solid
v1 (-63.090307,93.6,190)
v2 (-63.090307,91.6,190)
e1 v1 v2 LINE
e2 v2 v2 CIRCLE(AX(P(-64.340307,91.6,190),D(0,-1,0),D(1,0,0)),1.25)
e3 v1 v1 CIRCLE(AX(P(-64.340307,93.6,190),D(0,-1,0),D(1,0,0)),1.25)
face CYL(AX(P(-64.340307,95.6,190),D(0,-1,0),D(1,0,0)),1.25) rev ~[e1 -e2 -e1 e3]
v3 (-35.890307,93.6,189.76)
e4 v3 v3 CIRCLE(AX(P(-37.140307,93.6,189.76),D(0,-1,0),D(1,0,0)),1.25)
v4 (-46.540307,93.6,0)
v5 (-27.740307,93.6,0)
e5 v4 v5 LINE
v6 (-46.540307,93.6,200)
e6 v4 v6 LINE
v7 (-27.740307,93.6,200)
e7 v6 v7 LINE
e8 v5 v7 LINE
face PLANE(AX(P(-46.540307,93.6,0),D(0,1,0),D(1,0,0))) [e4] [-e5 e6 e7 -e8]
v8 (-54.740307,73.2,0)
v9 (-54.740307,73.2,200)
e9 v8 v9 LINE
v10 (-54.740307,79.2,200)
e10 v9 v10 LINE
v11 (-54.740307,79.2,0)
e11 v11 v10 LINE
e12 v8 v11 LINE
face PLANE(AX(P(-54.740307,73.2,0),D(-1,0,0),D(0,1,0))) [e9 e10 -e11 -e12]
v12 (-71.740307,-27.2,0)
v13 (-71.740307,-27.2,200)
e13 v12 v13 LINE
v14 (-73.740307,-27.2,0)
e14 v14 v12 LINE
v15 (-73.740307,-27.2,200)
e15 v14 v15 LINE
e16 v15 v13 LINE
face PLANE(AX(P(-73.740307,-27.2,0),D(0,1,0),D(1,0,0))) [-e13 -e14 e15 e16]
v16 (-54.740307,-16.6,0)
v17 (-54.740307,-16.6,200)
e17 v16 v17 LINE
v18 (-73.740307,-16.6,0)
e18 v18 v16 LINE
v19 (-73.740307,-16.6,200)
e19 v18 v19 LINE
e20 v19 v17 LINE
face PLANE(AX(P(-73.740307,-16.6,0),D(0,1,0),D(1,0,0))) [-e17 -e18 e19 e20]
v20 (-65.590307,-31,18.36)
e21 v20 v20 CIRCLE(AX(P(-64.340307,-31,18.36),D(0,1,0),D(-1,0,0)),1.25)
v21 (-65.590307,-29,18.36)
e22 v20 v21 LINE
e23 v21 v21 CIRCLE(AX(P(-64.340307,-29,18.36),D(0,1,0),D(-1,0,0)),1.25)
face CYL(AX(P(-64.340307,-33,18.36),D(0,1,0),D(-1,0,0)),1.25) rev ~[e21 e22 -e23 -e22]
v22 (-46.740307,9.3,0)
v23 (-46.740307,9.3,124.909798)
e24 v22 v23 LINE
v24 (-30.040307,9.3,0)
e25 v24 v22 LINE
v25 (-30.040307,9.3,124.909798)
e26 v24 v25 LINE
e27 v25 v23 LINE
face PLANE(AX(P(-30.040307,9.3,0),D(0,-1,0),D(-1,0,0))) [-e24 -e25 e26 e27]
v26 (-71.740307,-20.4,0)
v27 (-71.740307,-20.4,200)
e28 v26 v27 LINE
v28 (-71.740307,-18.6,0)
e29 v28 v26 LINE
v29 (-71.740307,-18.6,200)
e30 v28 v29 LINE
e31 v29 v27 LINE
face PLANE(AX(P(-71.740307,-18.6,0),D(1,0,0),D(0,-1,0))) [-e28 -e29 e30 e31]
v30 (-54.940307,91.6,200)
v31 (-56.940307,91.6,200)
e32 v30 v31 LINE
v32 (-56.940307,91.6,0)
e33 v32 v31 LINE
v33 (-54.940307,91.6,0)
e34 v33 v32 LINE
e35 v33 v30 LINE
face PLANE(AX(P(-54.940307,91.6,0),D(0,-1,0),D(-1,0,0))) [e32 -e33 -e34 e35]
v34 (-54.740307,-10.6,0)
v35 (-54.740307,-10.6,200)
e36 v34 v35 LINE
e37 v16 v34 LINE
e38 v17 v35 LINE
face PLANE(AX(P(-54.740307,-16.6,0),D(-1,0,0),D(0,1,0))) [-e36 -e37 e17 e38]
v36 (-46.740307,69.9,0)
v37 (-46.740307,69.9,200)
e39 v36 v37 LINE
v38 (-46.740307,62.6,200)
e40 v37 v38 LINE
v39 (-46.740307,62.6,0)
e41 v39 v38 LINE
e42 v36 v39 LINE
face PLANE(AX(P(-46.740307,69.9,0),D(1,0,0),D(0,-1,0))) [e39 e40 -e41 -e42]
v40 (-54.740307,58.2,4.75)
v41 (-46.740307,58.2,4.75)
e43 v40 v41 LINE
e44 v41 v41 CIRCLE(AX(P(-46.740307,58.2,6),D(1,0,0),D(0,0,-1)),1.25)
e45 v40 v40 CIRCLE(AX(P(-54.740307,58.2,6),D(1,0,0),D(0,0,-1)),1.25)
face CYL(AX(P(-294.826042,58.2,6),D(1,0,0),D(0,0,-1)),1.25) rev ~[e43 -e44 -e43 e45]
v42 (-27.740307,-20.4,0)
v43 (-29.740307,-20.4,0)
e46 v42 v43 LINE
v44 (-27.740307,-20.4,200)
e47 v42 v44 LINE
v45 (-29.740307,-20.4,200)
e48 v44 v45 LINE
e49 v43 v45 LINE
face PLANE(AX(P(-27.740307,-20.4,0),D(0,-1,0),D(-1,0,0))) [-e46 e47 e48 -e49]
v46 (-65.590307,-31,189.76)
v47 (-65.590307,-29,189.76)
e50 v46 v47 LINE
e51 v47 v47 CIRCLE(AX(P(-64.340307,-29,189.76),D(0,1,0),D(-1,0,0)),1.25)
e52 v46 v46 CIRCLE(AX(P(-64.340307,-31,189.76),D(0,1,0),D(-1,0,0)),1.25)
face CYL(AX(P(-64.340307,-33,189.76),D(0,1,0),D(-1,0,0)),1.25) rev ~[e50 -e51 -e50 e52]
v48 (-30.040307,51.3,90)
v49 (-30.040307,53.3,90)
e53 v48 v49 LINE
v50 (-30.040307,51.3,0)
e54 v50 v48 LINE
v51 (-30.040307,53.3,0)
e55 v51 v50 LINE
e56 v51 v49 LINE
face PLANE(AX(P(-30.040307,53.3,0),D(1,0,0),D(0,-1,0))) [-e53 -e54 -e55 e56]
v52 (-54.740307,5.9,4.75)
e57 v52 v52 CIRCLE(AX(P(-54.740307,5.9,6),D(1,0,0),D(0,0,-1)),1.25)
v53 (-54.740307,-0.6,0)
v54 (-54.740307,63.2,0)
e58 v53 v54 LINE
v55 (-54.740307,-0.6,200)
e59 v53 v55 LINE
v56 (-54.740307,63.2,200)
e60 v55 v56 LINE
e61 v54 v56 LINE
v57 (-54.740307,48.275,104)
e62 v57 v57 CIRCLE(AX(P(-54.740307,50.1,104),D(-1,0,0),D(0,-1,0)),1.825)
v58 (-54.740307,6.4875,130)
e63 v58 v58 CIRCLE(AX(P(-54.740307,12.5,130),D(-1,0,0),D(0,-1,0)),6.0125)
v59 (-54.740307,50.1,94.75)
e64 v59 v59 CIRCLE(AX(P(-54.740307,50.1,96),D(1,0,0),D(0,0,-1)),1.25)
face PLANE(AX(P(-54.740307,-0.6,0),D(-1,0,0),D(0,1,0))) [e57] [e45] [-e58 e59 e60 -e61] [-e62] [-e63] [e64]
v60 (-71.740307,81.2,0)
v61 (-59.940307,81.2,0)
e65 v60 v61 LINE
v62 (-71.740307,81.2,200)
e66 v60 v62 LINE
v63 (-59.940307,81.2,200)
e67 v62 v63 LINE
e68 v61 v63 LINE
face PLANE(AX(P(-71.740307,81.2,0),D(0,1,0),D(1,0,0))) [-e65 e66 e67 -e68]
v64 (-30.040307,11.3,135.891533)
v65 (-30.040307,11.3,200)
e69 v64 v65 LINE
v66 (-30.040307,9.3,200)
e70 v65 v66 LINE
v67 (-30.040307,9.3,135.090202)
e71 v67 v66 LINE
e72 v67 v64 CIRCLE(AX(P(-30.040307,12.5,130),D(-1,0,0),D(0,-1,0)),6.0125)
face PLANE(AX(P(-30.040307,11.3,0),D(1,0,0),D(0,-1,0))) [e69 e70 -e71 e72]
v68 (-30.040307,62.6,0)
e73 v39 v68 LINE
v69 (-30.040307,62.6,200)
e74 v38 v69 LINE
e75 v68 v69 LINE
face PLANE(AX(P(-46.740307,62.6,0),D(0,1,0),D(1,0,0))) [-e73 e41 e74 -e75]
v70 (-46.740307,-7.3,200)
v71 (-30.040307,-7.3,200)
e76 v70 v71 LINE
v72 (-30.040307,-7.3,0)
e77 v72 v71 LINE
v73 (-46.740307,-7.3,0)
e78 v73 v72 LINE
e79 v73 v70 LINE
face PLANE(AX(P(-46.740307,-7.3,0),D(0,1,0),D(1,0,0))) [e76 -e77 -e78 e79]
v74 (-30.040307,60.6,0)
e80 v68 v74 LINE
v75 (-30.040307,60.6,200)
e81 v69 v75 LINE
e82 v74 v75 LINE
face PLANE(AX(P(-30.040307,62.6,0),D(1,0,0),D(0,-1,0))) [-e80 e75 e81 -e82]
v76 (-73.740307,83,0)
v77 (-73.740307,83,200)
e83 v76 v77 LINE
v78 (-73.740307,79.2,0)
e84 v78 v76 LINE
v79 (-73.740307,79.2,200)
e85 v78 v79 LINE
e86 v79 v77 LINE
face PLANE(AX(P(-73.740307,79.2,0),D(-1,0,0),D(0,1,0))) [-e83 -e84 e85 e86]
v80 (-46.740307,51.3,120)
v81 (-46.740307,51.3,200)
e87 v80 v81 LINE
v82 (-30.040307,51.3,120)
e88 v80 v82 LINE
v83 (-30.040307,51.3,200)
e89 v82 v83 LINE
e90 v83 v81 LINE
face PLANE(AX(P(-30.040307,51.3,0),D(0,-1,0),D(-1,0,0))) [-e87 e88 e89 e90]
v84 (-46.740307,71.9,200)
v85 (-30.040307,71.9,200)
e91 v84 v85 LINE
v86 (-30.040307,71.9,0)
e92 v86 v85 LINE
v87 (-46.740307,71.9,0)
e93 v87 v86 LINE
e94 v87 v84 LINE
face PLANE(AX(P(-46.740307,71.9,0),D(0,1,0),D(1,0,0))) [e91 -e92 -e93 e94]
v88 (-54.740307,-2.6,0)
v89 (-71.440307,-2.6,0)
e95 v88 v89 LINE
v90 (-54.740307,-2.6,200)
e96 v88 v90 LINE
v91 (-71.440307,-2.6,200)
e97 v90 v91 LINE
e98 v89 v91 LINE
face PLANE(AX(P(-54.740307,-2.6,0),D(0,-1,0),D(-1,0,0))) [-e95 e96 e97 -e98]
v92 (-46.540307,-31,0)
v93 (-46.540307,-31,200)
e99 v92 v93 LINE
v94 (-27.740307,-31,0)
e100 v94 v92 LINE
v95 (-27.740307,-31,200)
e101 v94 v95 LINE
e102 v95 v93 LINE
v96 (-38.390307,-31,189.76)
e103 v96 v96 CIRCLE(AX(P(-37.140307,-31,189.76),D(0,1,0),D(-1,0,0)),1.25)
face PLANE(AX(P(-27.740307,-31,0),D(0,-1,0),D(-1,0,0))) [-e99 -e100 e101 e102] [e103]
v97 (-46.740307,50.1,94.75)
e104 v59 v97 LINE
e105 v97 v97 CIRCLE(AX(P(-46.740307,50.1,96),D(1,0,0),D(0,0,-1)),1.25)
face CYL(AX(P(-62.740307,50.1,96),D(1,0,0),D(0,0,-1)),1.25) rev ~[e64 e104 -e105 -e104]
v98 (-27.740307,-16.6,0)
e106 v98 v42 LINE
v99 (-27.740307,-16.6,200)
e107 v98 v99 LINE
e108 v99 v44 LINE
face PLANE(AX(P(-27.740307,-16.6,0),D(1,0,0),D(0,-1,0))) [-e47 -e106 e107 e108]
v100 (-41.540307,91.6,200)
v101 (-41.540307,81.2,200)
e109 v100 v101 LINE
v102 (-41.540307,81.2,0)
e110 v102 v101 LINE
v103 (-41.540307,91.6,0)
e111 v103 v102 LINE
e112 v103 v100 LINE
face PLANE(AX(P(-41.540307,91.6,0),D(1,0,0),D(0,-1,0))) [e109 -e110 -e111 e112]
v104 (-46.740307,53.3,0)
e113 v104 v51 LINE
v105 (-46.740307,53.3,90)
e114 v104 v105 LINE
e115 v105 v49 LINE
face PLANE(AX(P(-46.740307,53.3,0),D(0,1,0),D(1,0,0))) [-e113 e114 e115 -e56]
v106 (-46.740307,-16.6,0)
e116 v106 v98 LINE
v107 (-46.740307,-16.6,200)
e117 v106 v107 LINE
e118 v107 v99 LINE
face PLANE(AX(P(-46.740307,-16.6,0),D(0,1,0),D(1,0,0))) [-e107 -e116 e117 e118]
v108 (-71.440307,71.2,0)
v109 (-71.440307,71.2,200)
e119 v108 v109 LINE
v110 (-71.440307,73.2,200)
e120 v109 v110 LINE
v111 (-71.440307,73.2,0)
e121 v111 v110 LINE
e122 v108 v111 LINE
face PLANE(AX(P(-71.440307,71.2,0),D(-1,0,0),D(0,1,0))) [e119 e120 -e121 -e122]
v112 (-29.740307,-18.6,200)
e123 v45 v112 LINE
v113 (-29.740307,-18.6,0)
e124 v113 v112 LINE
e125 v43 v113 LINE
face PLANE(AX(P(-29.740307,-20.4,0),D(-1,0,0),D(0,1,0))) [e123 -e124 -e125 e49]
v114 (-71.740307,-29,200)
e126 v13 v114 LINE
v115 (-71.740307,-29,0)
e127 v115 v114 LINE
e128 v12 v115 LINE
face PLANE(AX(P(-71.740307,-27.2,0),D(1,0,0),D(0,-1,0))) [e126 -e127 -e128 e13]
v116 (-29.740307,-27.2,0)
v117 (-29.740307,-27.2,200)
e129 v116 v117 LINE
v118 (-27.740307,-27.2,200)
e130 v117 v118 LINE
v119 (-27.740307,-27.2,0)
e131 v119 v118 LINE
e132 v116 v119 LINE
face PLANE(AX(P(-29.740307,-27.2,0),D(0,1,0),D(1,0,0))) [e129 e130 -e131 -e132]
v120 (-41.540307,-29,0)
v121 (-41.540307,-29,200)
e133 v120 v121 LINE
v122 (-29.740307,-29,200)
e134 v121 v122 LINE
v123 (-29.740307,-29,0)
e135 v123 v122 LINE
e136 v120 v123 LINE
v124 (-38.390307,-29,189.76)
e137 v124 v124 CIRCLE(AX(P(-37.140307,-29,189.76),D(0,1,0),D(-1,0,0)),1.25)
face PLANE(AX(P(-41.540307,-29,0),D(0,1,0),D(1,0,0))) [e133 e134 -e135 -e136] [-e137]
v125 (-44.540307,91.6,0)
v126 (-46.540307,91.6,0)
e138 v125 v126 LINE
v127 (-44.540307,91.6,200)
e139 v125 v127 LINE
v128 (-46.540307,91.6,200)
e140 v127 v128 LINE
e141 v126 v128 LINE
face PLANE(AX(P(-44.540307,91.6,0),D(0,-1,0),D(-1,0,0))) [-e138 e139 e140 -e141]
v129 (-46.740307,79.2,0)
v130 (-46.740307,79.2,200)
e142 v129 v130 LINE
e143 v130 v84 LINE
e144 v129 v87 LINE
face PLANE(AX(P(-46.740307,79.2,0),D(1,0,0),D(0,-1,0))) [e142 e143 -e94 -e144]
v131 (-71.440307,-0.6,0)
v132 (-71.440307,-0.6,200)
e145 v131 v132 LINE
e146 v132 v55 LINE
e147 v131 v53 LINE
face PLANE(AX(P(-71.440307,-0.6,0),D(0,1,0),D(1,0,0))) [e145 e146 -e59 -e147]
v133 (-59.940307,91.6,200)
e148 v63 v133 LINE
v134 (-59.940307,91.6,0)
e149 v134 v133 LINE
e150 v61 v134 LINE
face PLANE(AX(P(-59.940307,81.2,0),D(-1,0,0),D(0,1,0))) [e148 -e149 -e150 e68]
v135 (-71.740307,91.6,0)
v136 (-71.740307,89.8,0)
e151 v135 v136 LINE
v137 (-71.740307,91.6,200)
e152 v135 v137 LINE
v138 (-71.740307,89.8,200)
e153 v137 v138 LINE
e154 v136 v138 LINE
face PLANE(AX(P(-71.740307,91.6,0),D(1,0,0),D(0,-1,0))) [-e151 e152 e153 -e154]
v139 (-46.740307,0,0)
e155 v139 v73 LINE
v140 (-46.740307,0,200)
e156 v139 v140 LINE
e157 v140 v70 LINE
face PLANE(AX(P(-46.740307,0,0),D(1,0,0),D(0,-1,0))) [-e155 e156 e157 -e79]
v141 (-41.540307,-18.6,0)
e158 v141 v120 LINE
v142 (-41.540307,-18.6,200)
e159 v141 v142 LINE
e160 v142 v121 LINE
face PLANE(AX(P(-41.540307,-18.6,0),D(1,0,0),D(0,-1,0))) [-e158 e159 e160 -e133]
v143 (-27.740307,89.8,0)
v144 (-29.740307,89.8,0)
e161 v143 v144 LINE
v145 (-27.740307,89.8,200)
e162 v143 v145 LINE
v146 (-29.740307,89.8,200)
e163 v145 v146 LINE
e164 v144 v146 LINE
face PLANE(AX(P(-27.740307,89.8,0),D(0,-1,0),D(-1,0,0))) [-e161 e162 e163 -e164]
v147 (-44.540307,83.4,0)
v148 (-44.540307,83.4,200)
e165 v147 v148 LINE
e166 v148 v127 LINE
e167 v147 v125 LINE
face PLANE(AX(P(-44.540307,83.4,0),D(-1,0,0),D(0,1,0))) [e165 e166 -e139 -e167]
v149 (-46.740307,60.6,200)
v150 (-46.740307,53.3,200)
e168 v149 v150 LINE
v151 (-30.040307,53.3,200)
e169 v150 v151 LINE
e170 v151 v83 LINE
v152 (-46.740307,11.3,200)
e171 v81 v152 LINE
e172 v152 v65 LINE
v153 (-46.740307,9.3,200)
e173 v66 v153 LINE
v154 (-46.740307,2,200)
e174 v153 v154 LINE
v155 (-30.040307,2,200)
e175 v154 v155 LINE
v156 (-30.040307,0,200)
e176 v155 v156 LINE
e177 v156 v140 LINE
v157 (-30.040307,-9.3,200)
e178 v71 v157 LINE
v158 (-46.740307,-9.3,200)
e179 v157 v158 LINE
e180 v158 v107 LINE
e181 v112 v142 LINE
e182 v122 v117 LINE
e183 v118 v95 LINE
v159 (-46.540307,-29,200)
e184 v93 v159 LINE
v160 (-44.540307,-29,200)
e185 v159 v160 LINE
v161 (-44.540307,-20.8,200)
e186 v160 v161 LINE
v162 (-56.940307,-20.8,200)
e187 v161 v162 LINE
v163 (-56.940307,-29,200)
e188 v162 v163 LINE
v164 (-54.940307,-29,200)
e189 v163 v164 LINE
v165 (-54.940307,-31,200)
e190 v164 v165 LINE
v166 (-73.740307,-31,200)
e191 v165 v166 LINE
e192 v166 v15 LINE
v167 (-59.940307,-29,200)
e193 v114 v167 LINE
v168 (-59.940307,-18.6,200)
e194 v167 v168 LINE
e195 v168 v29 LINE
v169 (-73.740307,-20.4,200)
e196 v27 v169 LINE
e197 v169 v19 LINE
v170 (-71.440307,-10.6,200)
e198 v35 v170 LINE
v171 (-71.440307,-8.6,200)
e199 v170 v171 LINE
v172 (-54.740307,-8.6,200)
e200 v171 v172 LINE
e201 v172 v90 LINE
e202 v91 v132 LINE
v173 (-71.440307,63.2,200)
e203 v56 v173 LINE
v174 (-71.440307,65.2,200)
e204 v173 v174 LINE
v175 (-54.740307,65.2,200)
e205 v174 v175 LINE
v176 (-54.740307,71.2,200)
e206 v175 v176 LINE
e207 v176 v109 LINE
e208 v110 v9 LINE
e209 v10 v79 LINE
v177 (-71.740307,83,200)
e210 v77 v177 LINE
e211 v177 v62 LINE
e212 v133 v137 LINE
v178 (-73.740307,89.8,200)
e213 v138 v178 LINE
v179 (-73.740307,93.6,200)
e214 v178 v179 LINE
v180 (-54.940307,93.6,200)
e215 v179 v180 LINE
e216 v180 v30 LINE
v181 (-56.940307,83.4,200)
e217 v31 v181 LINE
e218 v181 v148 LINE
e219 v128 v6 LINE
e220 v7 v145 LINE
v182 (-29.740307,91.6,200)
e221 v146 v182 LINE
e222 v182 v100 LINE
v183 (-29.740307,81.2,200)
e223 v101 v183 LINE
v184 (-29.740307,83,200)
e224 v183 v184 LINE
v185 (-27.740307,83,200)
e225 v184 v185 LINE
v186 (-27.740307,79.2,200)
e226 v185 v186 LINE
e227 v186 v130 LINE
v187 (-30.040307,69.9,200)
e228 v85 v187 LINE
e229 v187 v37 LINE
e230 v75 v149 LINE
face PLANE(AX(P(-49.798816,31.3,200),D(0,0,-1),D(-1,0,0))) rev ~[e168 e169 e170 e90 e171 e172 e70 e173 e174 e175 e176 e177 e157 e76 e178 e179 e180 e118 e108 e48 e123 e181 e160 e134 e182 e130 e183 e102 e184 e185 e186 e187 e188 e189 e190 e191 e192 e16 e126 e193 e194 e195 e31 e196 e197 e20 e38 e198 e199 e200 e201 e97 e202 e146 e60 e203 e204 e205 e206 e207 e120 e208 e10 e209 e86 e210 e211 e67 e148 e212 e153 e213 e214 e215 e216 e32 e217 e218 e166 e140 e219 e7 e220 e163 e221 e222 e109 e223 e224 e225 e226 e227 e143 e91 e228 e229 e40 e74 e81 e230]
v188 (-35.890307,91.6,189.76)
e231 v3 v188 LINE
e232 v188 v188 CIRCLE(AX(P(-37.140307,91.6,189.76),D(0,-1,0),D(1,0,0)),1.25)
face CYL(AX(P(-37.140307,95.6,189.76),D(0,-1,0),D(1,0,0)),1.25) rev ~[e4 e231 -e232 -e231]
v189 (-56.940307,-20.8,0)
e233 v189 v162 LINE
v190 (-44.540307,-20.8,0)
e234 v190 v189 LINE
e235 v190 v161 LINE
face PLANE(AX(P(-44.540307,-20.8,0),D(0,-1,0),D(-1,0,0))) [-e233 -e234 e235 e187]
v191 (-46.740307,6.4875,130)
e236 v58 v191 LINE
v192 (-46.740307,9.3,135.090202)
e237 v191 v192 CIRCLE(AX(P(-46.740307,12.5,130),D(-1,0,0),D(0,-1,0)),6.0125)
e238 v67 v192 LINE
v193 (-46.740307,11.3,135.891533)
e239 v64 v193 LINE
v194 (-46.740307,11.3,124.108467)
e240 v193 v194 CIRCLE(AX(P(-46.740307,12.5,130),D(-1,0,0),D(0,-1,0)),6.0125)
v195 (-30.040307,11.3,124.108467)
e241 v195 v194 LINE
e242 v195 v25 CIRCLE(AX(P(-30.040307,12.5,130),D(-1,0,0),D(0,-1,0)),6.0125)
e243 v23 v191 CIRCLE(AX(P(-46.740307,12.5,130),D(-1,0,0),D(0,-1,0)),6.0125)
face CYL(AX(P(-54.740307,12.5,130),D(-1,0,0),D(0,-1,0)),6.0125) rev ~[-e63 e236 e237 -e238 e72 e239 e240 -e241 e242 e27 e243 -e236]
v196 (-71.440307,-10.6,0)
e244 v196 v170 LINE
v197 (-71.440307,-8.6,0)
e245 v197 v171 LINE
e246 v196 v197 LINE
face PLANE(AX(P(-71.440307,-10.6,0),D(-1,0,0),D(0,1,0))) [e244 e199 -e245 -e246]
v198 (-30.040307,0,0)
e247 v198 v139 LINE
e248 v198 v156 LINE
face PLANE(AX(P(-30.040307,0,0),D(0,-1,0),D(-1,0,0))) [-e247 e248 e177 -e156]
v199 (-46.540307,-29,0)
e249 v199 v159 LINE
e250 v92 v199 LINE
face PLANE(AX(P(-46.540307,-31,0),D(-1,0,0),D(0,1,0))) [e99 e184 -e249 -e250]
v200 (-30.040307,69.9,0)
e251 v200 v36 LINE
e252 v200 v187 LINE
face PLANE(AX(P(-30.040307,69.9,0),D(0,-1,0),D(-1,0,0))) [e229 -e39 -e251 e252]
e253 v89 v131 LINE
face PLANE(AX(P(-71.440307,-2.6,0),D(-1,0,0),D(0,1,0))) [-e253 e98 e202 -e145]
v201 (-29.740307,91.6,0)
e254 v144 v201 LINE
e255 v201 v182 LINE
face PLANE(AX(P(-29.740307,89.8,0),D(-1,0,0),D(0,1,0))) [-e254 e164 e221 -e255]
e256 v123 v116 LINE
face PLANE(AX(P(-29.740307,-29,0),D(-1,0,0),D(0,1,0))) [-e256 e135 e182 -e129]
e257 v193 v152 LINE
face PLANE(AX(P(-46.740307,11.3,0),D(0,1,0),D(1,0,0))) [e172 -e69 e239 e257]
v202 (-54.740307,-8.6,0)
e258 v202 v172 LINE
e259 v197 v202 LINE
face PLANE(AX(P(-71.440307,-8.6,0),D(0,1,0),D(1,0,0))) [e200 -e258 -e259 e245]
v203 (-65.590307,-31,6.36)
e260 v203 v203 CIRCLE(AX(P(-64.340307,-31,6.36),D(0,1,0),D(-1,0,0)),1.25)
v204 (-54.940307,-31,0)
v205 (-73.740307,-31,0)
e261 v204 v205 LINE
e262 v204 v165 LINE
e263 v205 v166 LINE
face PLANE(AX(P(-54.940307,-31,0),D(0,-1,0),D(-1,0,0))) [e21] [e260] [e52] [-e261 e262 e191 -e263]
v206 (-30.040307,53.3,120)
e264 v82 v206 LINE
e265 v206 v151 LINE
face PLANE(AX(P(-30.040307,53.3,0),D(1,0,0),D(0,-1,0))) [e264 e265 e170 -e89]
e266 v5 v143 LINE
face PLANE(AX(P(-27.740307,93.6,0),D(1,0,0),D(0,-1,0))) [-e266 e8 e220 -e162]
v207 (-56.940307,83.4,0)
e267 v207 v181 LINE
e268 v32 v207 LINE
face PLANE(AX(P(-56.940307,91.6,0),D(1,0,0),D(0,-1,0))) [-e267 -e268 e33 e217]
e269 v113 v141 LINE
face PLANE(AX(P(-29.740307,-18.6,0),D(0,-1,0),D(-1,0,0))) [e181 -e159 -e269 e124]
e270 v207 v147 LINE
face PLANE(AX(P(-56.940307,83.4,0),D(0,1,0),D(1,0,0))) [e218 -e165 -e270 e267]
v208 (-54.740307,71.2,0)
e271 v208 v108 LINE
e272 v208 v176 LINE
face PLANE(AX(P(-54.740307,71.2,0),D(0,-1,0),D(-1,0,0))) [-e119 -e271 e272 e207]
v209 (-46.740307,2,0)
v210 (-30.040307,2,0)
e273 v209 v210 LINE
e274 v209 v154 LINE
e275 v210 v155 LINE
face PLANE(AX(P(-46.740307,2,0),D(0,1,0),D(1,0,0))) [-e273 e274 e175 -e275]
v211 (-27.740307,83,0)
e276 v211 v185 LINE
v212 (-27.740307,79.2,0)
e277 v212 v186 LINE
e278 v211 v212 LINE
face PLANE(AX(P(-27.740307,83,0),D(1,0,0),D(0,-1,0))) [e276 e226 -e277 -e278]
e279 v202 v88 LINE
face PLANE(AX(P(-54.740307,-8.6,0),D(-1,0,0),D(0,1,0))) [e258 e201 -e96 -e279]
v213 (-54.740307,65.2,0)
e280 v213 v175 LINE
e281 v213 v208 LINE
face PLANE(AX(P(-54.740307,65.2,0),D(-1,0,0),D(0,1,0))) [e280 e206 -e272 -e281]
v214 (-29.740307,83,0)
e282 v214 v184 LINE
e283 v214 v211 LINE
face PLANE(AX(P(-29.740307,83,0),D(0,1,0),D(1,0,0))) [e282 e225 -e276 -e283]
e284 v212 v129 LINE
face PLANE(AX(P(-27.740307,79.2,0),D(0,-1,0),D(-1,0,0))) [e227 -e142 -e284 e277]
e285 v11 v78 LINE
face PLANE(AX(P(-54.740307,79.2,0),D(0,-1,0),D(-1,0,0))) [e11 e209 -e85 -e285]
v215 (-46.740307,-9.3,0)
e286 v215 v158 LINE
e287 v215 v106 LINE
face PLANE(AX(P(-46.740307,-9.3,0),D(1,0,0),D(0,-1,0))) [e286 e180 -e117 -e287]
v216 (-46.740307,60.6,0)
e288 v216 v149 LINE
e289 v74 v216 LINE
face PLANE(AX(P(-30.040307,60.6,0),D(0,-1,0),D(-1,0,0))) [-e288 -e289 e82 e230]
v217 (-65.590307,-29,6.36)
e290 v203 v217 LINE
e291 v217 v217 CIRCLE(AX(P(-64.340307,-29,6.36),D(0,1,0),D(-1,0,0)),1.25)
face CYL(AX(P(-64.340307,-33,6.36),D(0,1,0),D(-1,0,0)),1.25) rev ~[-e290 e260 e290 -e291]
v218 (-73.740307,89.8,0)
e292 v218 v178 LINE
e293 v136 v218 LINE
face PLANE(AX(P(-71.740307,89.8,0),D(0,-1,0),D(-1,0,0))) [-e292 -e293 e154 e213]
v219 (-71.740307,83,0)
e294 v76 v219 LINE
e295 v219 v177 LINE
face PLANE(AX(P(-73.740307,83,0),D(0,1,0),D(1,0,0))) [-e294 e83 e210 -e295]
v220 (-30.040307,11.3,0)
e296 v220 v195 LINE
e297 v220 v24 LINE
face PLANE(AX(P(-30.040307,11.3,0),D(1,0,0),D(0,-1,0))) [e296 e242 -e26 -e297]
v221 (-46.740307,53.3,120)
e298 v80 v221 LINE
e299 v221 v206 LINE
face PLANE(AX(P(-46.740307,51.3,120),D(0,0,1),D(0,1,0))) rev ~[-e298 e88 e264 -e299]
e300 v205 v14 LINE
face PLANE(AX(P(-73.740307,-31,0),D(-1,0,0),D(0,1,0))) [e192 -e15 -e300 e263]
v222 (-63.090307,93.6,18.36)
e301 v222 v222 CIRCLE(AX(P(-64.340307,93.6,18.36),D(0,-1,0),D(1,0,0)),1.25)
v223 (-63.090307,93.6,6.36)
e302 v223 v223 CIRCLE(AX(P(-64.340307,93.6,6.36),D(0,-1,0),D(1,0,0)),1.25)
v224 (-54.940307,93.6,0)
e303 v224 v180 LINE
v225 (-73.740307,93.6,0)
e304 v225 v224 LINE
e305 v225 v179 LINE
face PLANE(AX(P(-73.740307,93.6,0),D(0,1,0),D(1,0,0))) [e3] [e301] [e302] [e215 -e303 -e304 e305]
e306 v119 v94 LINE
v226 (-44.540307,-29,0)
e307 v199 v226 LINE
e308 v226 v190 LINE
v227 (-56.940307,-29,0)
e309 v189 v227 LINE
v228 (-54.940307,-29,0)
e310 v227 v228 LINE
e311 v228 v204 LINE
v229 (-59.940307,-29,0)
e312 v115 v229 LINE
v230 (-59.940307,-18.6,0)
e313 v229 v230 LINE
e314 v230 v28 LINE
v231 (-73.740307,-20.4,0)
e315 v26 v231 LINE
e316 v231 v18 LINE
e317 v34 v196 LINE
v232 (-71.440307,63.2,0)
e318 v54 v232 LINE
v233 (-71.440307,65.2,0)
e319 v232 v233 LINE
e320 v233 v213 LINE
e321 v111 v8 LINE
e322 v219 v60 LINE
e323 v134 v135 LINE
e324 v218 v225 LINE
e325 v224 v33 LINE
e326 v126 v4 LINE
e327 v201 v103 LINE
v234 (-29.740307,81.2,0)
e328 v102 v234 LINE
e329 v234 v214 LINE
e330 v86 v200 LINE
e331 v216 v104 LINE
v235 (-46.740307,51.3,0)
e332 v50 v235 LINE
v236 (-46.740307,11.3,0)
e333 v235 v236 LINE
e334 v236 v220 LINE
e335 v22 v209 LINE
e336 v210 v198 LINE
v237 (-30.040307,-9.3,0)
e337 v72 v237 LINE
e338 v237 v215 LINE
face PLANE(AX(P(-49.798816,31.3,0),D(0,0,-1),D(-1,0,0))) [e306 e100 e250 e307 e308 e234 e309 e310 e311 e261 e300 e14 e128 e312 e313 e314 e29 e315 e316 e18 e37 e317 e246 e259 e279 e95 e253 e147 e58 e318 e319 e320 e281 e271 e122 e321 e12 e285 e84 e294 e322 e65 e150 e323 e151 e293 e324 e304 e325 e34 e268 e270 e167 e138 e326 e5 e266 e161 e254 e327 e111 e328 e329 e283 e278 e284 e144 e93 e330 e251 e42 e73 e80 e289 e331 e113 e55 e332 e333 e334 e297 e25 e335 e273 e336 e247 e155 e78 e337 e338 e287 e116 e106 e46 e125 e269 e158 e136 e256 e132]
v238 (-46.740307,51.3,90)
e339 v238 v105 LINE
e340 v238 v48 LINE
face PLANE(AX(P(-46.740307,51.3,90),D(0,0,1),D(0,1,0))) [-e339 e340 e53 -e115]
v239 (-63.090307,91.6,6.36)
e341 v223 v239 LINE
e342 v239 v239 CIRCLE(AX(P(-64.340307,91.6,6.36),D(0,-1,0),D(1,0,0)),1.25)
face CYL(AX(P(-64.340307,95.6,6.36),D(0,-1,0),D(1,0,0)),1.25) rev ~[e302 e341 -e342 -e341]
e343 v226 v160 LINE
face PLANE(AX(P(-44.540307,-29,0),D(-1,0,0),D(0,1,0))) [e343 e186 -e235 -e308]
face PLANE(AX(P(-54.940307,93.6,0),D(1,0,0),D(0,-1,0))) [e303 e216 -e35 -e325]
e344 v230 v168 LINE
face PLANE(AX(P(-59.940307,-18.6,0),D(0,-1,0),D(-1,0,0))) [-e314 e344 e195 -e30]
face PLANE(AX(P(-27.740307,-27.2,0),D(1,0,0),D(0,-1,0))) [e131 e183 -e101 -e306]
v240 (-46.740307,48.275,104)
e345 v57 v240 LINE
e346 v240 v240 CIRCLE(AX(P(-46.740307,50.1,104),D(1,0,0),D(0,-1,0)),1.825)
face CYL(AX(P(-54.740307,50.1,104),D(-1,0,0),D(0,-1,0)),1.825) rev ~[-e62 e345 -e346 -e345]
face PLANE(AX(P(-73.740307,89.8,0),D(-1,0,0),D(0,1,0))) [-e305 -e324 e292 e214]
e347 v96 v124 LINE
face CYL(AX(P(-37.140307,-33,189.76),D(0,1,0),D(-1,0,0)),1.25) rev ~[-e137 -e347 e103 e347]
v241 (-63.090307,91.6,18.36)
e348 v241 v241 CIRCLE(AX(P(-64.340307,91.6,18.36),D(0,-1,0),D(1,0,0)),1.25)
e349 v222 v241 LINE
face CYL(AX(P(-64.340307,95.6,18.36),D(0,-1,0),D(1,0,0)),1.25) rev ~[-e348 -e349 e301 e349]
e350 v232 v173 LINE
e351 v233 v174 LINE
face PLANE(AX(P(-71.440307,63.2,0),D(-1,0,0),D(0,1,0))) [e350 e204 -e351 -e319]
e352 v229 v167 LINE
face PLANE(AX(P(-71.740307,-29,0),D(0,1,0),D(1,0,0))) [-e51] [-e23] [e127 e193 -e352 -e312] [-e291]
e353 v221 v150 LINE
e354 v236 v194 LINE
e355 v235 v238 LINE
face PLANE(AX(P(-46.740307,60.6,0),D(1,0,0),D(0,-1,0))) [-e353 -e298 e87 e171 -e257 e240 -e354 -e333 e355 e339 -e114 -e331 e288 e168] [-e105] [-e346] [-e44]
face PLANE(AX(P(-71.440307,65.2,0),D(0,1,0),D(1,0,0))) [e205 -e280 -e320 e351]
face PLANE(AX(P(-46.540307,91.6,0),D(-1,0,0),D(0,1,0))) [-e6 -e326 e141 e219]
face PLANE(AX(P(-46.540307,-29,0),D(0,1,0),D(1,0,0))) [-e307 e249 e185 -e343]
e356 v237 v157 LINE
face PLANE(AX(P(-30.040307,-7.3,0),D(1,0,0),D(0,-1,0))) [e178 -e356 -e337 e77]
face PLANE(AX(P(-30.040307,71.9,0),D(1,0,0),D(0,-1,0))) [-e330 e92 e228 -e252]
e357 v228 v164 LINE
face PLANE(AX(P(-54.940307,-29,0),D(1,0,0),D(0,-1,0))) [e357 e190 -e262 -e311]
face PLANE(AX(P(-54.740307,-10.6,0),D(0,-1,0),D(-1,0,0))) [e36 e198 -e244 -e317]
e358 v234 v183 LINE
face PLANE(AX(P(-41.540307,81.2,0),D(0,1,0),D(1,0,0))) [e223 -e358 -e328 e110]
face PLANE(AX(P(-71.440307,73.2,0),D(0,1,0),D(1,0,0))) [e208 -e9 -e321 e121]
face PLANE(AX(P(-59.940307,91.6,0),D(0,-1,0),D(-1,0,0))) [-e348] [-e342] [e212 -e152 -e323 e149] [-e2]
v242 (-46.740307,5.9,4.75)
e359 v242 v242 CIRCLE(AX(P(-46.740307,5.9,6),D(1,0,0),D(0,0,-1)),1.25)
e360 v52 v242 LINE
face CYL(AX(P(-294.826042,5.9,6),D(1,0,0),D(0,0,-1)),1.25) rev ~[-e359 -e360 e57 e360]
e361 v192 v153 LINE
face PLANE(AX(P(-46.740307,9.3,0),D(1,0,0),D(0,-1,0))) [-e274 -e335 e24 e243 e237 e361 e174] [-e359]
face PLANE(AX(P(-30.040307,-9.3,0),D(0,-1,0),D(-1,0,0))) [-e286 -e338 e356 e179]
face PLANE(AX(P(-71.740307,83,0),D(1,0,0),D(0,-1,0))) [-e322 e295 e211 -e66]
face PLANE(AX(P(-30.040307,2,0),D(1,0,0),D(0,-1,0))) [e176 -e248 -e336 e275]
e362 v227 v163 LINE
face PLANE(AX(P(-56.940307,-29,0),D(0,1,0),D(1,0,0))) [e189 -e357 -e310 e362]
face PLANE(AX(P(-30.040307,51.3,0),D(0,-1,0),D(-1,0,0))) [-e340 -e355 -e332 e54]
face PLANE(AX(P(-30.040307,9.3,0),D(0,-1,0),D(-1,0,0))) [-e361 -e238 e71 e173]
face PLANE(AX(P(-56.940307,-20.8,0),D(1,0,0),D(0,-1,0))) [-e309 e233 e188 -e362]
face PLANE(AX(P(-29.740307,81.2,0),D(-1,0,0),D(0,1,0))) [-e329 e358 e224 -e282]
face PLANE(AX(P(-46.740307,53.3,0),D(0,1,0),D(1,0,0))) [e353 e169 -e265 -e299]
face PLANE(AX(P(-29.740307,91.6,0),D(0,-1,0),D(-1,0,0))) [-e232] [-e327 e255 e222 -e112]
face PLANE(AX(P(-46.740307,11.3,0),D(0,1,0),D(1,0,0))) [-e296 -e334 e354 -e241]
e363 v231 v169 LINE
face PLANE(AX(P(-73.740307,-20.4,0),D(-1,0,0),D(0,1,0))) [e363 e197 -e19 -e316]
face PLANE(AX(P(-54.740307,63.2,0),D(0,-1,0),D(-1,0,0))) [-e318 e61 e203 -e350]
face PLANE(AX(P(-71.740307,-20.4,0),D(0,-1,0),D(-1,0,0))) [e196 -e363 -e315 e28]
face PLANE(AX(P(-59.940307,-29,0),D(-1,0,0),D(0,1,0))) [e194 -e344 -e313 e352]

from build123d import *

# Parameters (mm, degrees)
RESSALTO_EXTRUS_O1_DEPTH                     = 200
CORTE_EXTRUS_O3_REACH                        = 224.463
ESBO_O4_R                                    = 1.825
CORTE_EXTRUS_O5_REACH                        = 224.463
ESBO_O6_R                                    = 6.0125
BROCA_DE_ROSQUEAR_PARA_TARRAXA_DE_M3X0_5_D   = 2.5
BROCA_DE_ROSQUEAR_PARA_TARRAXA_DE_M3_2_D     = 2.5
BROCA_DE_ROSQUEAR_PARA_TARRAXA_DE_M3_2_DEPTH = 8
BROCA_DE_ROSQUEAR_PARA_TARRAXA_DE_M3_3_D     = 2.5
BROCA_DE_ROSQUEAR_PARA_TARRAXA_DE_M3_3_DEPTH = 2
BROCA_DE_ROSQUEAR_PARA_TARRAXA_DE_M3_4_D     = 2.5
BROCA_DE_ROSQUEAR_PARA_TARRAXA_DE_M3_4_DEPTH = 2
BROCA_DE_ROSQUEAR_PARA_TARRAXA_DE_M3_5_D     = 2.5
BROCA_DE_ROSQUEAR_PARA_TARRAXA_DE_M3_5_DEPTH = 2
CORTE_EXTRUS_O6_START                        = -16.7
ESBO_O26_W                                   = 30
ESBO_O26_H                                   = 2
CORTE_EXTRUS_O6_DEPTH                        = 16.7
BROCA_DE_ROSQUEAR_PARA_TARRAXA_DE_M3_6_D     = 2.5
BROCA_DE_ROSQUEAR_PARA_TARRAXA_DE_M3_6_DEPTH = 2


with BuildPart() as part:
    # Esboço1 → Ressalto-extrusão1 (new body)
    with BuildSketch(Plane.XY):
        Polygon((-54.740307174, -0.6), (-54.740307174, 63.2), (-71.440307174, 63.2), (-71.440307174, 65.2), (-54.740307174, 65.2), (-54.740307174, 71.2), (-71.440307174, 71.2), (-71.440307174, 73.2), (-54.740307174, 73.2), (-54.740307174, 79.2), (-73.740307174, 79.2), (-73.740307174, 83), (-71.740307174, 83), (-71.740307174, 81.2), (-59.940307174, 81.2), (-59.940307174, 91.6), (-71.740307174, 91.6), (-71.740307174, 89.8), (-73.740307174, 89.8), (-73.740307174, 93.6), (-54.940307174, 93.6), (-54.940307174, 91.6), (-56.940307174, 91.6), (-56.940307174, 83.4), (-44.540307174, 83.4), (-44.540307174, 91.6), (-46.540307174, 91.6), (-46.540307174, 93.6), (-27.740307174, 93.6), (-27.740307174, 89.8), (-29.740307174, 89.8), (-29.740307174, 91.6), (-41.540307174, 91.6), (-41.540307174, 81.2), (-29.740307174, 81.2), (-29.740307174, 83), (-27.740307174, 83), (-27.740307174, 79.2), (-46.740307174, 79.2), (-46.740307174, 71.9), (-30.040307174, 71.9), (-30.040307174, 69.9), (-46.740307174, 69.9), (-46.740307174, 62.6), (-30.040307174, 62.6), (-30.040307174, 60.6), (-46.740307174, 60.6), (-46.740307174, 53.3), (-30.040307174, 53.3), (-30.040307174, 51.3), (-46.740307174, 51.3), (-46.740307174, 11.3), (-30.040307174, 11.3), (-30.040307174, 9.3), (-46.740307174, 9.3), (-46.740307174, 2), (-30.040307174, 2), (-30.040307174, 0), (-46.740307174, 0), (-46.740307174, -7.3), (-30.040307174, -7.3), (-30.040307174, -9.3), (-46.740307174, -9.3), (-46.740307174, -16.6), (-27.740307174, -16.6), (-27.740307174, -20.4), (-29.740307174, -20.4), (-29.740307174, -18.6), (-41.540307174, -18.6), (-41.540307174, -29), (-29.740307174, -29), (-29.740307174, -27.2), (-27.740307174, -27.2), (-27.740307174, -31), (-46.540307174, -31), (-46.540307174, -29), (-44.540307174, -29), (-44.540307174, -20.8), (-56.940307174, -20.8), (-56.940307174, -29), (-54.940307174, -29), (-54.940307174, -31), (-73.740307174, -31), (-73.740307174, -27.2), (-71.740307174, -27.2), (-71.740307174, -29), (-59.940307174, -29), (-59.940307174, -18.6), (-71.740307174, -18.6), (-71.740307174, -20.4), (-73.740307174, -20.4), (-73.740307174, -16.6), (-54.740307174, -16.6), (-54.740307174, -10.6), (-71.440307174, -10.6), (-71.440307174, -8.6), (-54.740307174, -8.6), (-54.740307174, -2.6), (-71.440307174, -2.6), (-71.440307174, -0.6), align=None)
    extrude(amount=RESSALTO_EXTRUS_O1_DEPTH)

    # Esboço4 → Corte-extrusão3 (cut, up to next)
    with BuildSketch(Plane.ZY.offset(54.740307174), mode=Mode.PRIVATE) as corte_extrus_o3_sk1:
        with Locations(Location((104, 50.1, 0), (0, 0, 270))):
            Circle(ESBO_O4_R)
    corte_extrus_o3_tool1 = extrude(corte_extrus_o3_sk1.sketch, amount=-CORTE_EXTRUS_O3_REACH, mode=Mode.PRIVATE) & part.part
    add(corte_extrus_o3_tool1.solids().sort_by_distance((-54.740307, 50.1, 104))[0], mode=Mode.SUBTRACT)

    # Esboço6 → Corte-extrusão5 (cut, up to next)
    with BuildSketch(Plane.ZY.offset(54.740307174), mode=Mode.PRIVATE) as corte_extrus_o5_sk1:
        with Locations(Location((130, 12.5, 0), (0, 0, 270))):
            Circle(ESBO_O6_R)
    corte_extrus_o5_tool1 = extrude(corte_extrus_o5_sk1.sketch, amount=-CORTE_EXTRUS_O5_REACH, mode=Mode.PRIVATE) & part.part
    add(corte_extrus_o5_tool1.solids().sort_by_distance((-54.740307, 12.5, 130))[0], mode=Mode.SUBTRACT)

    # Broca de rosquear para tarraxa de M3x0.5 (through all)
    with Locations(Plane.ZY.offset(54.740307174)):
        with Locations((6, 5.9), (6, 58.2)):
            Hole(BROCA_DE_ROSQUEAR_PARA_TARRAXA_DE_M3X0_5_D / 2)

    # Broca de rosquear para tarraxa de M3 2
    with Locations(Plane.ZY.offset(54.740307174)):
        with Locations((96, 50.1)):
            Hole(BROCA_DE_ROSQUEAR_PARA_TARRAXA_DE_M3_2_D / 2, depth=BROCA_DE_ROSQUEAR_PARA_TARRAXA_DE_M3_2_DEPTH)

    # Broca de rosquear para tarraxa de M3 3
    with Locations(Plane(origin=(0, 93.6, 0), x_dir=(-1, 0, 0), z_dir=(0, 1, 0))):
        with Locations((64.340307174, 190), (37.140307174, 189.76)):
            Hole(BROCA_DE_ROSQUEAR_PARA_TARRAXA_DE_M3_3_D / 2, depth=BROCA_DE_ROSQUEAR_PARA_TARRAXA_DE_M3_3_DEPTH)

    # Broca de rosquear para tarraxa de M3 4
    with Locations(Plane(origin=(0, 93.6, 0), x_dir=(-1, 0, 0), z_dir=(0, 1, 0))):
        with Locations((64.340307174, 18.36), (64.340307174, 6.36)):
            Hole(BROCA_DE_ROSQUEAR_PARA_TARRAXA_DE_M3_4_D / 2, depth=BROCA_DE_ROSQUEAR_PARA_TARRAXA_DE_M3_4_DEPTH)

    # Broca de rosquear para tarraxa de M3 5
    with Locations(Plane.XZ.offset(31)):
        with Locations((-64.340307174, 18.36), (-64.340307174, 6.36)):
            Hole(BROCA_DE_ROSQUEAR_PARA_TARRAXA_DE_M3_5_D / 2, depth=BROCA_DE_ROSQUEAR_PARA_TARRAXA_DE_M3_5_DEPTH)

    # Esboço26 → Corte-extrusão6 (cut)
    with BuildSketch(Plane(origin=(-30.040307174, 0, 0), x_dir=(0, 0, -1), z_dir=(1, 0, 0)).offset(CORTE_EXTRUS_O6_START)):
        with Locations((-105, 52.3)):
            Rectangle(ESBO_O26_W, ESBO_O26_H)
    extrude(amount=CORTE_EXTRUS_O6_DEPTH, mode=Mode.SUBTRACT)

    # Broca de rosquear para tarraxa de M3 6
    with Locations(Plane.XZ.offset(31)):
        with Locations((-64.340307174, 189.76), (-37.140307174, 189.76)):
            Hole(BROCA_DE_ROSQUEAR_PARA_TARRAXA_DE_M3_6_D / 2, depth=BROCA_DE_ROSQUEAR_PARA_TARRAXA_DE_M3_6_DEPTH)


solid = part.part
